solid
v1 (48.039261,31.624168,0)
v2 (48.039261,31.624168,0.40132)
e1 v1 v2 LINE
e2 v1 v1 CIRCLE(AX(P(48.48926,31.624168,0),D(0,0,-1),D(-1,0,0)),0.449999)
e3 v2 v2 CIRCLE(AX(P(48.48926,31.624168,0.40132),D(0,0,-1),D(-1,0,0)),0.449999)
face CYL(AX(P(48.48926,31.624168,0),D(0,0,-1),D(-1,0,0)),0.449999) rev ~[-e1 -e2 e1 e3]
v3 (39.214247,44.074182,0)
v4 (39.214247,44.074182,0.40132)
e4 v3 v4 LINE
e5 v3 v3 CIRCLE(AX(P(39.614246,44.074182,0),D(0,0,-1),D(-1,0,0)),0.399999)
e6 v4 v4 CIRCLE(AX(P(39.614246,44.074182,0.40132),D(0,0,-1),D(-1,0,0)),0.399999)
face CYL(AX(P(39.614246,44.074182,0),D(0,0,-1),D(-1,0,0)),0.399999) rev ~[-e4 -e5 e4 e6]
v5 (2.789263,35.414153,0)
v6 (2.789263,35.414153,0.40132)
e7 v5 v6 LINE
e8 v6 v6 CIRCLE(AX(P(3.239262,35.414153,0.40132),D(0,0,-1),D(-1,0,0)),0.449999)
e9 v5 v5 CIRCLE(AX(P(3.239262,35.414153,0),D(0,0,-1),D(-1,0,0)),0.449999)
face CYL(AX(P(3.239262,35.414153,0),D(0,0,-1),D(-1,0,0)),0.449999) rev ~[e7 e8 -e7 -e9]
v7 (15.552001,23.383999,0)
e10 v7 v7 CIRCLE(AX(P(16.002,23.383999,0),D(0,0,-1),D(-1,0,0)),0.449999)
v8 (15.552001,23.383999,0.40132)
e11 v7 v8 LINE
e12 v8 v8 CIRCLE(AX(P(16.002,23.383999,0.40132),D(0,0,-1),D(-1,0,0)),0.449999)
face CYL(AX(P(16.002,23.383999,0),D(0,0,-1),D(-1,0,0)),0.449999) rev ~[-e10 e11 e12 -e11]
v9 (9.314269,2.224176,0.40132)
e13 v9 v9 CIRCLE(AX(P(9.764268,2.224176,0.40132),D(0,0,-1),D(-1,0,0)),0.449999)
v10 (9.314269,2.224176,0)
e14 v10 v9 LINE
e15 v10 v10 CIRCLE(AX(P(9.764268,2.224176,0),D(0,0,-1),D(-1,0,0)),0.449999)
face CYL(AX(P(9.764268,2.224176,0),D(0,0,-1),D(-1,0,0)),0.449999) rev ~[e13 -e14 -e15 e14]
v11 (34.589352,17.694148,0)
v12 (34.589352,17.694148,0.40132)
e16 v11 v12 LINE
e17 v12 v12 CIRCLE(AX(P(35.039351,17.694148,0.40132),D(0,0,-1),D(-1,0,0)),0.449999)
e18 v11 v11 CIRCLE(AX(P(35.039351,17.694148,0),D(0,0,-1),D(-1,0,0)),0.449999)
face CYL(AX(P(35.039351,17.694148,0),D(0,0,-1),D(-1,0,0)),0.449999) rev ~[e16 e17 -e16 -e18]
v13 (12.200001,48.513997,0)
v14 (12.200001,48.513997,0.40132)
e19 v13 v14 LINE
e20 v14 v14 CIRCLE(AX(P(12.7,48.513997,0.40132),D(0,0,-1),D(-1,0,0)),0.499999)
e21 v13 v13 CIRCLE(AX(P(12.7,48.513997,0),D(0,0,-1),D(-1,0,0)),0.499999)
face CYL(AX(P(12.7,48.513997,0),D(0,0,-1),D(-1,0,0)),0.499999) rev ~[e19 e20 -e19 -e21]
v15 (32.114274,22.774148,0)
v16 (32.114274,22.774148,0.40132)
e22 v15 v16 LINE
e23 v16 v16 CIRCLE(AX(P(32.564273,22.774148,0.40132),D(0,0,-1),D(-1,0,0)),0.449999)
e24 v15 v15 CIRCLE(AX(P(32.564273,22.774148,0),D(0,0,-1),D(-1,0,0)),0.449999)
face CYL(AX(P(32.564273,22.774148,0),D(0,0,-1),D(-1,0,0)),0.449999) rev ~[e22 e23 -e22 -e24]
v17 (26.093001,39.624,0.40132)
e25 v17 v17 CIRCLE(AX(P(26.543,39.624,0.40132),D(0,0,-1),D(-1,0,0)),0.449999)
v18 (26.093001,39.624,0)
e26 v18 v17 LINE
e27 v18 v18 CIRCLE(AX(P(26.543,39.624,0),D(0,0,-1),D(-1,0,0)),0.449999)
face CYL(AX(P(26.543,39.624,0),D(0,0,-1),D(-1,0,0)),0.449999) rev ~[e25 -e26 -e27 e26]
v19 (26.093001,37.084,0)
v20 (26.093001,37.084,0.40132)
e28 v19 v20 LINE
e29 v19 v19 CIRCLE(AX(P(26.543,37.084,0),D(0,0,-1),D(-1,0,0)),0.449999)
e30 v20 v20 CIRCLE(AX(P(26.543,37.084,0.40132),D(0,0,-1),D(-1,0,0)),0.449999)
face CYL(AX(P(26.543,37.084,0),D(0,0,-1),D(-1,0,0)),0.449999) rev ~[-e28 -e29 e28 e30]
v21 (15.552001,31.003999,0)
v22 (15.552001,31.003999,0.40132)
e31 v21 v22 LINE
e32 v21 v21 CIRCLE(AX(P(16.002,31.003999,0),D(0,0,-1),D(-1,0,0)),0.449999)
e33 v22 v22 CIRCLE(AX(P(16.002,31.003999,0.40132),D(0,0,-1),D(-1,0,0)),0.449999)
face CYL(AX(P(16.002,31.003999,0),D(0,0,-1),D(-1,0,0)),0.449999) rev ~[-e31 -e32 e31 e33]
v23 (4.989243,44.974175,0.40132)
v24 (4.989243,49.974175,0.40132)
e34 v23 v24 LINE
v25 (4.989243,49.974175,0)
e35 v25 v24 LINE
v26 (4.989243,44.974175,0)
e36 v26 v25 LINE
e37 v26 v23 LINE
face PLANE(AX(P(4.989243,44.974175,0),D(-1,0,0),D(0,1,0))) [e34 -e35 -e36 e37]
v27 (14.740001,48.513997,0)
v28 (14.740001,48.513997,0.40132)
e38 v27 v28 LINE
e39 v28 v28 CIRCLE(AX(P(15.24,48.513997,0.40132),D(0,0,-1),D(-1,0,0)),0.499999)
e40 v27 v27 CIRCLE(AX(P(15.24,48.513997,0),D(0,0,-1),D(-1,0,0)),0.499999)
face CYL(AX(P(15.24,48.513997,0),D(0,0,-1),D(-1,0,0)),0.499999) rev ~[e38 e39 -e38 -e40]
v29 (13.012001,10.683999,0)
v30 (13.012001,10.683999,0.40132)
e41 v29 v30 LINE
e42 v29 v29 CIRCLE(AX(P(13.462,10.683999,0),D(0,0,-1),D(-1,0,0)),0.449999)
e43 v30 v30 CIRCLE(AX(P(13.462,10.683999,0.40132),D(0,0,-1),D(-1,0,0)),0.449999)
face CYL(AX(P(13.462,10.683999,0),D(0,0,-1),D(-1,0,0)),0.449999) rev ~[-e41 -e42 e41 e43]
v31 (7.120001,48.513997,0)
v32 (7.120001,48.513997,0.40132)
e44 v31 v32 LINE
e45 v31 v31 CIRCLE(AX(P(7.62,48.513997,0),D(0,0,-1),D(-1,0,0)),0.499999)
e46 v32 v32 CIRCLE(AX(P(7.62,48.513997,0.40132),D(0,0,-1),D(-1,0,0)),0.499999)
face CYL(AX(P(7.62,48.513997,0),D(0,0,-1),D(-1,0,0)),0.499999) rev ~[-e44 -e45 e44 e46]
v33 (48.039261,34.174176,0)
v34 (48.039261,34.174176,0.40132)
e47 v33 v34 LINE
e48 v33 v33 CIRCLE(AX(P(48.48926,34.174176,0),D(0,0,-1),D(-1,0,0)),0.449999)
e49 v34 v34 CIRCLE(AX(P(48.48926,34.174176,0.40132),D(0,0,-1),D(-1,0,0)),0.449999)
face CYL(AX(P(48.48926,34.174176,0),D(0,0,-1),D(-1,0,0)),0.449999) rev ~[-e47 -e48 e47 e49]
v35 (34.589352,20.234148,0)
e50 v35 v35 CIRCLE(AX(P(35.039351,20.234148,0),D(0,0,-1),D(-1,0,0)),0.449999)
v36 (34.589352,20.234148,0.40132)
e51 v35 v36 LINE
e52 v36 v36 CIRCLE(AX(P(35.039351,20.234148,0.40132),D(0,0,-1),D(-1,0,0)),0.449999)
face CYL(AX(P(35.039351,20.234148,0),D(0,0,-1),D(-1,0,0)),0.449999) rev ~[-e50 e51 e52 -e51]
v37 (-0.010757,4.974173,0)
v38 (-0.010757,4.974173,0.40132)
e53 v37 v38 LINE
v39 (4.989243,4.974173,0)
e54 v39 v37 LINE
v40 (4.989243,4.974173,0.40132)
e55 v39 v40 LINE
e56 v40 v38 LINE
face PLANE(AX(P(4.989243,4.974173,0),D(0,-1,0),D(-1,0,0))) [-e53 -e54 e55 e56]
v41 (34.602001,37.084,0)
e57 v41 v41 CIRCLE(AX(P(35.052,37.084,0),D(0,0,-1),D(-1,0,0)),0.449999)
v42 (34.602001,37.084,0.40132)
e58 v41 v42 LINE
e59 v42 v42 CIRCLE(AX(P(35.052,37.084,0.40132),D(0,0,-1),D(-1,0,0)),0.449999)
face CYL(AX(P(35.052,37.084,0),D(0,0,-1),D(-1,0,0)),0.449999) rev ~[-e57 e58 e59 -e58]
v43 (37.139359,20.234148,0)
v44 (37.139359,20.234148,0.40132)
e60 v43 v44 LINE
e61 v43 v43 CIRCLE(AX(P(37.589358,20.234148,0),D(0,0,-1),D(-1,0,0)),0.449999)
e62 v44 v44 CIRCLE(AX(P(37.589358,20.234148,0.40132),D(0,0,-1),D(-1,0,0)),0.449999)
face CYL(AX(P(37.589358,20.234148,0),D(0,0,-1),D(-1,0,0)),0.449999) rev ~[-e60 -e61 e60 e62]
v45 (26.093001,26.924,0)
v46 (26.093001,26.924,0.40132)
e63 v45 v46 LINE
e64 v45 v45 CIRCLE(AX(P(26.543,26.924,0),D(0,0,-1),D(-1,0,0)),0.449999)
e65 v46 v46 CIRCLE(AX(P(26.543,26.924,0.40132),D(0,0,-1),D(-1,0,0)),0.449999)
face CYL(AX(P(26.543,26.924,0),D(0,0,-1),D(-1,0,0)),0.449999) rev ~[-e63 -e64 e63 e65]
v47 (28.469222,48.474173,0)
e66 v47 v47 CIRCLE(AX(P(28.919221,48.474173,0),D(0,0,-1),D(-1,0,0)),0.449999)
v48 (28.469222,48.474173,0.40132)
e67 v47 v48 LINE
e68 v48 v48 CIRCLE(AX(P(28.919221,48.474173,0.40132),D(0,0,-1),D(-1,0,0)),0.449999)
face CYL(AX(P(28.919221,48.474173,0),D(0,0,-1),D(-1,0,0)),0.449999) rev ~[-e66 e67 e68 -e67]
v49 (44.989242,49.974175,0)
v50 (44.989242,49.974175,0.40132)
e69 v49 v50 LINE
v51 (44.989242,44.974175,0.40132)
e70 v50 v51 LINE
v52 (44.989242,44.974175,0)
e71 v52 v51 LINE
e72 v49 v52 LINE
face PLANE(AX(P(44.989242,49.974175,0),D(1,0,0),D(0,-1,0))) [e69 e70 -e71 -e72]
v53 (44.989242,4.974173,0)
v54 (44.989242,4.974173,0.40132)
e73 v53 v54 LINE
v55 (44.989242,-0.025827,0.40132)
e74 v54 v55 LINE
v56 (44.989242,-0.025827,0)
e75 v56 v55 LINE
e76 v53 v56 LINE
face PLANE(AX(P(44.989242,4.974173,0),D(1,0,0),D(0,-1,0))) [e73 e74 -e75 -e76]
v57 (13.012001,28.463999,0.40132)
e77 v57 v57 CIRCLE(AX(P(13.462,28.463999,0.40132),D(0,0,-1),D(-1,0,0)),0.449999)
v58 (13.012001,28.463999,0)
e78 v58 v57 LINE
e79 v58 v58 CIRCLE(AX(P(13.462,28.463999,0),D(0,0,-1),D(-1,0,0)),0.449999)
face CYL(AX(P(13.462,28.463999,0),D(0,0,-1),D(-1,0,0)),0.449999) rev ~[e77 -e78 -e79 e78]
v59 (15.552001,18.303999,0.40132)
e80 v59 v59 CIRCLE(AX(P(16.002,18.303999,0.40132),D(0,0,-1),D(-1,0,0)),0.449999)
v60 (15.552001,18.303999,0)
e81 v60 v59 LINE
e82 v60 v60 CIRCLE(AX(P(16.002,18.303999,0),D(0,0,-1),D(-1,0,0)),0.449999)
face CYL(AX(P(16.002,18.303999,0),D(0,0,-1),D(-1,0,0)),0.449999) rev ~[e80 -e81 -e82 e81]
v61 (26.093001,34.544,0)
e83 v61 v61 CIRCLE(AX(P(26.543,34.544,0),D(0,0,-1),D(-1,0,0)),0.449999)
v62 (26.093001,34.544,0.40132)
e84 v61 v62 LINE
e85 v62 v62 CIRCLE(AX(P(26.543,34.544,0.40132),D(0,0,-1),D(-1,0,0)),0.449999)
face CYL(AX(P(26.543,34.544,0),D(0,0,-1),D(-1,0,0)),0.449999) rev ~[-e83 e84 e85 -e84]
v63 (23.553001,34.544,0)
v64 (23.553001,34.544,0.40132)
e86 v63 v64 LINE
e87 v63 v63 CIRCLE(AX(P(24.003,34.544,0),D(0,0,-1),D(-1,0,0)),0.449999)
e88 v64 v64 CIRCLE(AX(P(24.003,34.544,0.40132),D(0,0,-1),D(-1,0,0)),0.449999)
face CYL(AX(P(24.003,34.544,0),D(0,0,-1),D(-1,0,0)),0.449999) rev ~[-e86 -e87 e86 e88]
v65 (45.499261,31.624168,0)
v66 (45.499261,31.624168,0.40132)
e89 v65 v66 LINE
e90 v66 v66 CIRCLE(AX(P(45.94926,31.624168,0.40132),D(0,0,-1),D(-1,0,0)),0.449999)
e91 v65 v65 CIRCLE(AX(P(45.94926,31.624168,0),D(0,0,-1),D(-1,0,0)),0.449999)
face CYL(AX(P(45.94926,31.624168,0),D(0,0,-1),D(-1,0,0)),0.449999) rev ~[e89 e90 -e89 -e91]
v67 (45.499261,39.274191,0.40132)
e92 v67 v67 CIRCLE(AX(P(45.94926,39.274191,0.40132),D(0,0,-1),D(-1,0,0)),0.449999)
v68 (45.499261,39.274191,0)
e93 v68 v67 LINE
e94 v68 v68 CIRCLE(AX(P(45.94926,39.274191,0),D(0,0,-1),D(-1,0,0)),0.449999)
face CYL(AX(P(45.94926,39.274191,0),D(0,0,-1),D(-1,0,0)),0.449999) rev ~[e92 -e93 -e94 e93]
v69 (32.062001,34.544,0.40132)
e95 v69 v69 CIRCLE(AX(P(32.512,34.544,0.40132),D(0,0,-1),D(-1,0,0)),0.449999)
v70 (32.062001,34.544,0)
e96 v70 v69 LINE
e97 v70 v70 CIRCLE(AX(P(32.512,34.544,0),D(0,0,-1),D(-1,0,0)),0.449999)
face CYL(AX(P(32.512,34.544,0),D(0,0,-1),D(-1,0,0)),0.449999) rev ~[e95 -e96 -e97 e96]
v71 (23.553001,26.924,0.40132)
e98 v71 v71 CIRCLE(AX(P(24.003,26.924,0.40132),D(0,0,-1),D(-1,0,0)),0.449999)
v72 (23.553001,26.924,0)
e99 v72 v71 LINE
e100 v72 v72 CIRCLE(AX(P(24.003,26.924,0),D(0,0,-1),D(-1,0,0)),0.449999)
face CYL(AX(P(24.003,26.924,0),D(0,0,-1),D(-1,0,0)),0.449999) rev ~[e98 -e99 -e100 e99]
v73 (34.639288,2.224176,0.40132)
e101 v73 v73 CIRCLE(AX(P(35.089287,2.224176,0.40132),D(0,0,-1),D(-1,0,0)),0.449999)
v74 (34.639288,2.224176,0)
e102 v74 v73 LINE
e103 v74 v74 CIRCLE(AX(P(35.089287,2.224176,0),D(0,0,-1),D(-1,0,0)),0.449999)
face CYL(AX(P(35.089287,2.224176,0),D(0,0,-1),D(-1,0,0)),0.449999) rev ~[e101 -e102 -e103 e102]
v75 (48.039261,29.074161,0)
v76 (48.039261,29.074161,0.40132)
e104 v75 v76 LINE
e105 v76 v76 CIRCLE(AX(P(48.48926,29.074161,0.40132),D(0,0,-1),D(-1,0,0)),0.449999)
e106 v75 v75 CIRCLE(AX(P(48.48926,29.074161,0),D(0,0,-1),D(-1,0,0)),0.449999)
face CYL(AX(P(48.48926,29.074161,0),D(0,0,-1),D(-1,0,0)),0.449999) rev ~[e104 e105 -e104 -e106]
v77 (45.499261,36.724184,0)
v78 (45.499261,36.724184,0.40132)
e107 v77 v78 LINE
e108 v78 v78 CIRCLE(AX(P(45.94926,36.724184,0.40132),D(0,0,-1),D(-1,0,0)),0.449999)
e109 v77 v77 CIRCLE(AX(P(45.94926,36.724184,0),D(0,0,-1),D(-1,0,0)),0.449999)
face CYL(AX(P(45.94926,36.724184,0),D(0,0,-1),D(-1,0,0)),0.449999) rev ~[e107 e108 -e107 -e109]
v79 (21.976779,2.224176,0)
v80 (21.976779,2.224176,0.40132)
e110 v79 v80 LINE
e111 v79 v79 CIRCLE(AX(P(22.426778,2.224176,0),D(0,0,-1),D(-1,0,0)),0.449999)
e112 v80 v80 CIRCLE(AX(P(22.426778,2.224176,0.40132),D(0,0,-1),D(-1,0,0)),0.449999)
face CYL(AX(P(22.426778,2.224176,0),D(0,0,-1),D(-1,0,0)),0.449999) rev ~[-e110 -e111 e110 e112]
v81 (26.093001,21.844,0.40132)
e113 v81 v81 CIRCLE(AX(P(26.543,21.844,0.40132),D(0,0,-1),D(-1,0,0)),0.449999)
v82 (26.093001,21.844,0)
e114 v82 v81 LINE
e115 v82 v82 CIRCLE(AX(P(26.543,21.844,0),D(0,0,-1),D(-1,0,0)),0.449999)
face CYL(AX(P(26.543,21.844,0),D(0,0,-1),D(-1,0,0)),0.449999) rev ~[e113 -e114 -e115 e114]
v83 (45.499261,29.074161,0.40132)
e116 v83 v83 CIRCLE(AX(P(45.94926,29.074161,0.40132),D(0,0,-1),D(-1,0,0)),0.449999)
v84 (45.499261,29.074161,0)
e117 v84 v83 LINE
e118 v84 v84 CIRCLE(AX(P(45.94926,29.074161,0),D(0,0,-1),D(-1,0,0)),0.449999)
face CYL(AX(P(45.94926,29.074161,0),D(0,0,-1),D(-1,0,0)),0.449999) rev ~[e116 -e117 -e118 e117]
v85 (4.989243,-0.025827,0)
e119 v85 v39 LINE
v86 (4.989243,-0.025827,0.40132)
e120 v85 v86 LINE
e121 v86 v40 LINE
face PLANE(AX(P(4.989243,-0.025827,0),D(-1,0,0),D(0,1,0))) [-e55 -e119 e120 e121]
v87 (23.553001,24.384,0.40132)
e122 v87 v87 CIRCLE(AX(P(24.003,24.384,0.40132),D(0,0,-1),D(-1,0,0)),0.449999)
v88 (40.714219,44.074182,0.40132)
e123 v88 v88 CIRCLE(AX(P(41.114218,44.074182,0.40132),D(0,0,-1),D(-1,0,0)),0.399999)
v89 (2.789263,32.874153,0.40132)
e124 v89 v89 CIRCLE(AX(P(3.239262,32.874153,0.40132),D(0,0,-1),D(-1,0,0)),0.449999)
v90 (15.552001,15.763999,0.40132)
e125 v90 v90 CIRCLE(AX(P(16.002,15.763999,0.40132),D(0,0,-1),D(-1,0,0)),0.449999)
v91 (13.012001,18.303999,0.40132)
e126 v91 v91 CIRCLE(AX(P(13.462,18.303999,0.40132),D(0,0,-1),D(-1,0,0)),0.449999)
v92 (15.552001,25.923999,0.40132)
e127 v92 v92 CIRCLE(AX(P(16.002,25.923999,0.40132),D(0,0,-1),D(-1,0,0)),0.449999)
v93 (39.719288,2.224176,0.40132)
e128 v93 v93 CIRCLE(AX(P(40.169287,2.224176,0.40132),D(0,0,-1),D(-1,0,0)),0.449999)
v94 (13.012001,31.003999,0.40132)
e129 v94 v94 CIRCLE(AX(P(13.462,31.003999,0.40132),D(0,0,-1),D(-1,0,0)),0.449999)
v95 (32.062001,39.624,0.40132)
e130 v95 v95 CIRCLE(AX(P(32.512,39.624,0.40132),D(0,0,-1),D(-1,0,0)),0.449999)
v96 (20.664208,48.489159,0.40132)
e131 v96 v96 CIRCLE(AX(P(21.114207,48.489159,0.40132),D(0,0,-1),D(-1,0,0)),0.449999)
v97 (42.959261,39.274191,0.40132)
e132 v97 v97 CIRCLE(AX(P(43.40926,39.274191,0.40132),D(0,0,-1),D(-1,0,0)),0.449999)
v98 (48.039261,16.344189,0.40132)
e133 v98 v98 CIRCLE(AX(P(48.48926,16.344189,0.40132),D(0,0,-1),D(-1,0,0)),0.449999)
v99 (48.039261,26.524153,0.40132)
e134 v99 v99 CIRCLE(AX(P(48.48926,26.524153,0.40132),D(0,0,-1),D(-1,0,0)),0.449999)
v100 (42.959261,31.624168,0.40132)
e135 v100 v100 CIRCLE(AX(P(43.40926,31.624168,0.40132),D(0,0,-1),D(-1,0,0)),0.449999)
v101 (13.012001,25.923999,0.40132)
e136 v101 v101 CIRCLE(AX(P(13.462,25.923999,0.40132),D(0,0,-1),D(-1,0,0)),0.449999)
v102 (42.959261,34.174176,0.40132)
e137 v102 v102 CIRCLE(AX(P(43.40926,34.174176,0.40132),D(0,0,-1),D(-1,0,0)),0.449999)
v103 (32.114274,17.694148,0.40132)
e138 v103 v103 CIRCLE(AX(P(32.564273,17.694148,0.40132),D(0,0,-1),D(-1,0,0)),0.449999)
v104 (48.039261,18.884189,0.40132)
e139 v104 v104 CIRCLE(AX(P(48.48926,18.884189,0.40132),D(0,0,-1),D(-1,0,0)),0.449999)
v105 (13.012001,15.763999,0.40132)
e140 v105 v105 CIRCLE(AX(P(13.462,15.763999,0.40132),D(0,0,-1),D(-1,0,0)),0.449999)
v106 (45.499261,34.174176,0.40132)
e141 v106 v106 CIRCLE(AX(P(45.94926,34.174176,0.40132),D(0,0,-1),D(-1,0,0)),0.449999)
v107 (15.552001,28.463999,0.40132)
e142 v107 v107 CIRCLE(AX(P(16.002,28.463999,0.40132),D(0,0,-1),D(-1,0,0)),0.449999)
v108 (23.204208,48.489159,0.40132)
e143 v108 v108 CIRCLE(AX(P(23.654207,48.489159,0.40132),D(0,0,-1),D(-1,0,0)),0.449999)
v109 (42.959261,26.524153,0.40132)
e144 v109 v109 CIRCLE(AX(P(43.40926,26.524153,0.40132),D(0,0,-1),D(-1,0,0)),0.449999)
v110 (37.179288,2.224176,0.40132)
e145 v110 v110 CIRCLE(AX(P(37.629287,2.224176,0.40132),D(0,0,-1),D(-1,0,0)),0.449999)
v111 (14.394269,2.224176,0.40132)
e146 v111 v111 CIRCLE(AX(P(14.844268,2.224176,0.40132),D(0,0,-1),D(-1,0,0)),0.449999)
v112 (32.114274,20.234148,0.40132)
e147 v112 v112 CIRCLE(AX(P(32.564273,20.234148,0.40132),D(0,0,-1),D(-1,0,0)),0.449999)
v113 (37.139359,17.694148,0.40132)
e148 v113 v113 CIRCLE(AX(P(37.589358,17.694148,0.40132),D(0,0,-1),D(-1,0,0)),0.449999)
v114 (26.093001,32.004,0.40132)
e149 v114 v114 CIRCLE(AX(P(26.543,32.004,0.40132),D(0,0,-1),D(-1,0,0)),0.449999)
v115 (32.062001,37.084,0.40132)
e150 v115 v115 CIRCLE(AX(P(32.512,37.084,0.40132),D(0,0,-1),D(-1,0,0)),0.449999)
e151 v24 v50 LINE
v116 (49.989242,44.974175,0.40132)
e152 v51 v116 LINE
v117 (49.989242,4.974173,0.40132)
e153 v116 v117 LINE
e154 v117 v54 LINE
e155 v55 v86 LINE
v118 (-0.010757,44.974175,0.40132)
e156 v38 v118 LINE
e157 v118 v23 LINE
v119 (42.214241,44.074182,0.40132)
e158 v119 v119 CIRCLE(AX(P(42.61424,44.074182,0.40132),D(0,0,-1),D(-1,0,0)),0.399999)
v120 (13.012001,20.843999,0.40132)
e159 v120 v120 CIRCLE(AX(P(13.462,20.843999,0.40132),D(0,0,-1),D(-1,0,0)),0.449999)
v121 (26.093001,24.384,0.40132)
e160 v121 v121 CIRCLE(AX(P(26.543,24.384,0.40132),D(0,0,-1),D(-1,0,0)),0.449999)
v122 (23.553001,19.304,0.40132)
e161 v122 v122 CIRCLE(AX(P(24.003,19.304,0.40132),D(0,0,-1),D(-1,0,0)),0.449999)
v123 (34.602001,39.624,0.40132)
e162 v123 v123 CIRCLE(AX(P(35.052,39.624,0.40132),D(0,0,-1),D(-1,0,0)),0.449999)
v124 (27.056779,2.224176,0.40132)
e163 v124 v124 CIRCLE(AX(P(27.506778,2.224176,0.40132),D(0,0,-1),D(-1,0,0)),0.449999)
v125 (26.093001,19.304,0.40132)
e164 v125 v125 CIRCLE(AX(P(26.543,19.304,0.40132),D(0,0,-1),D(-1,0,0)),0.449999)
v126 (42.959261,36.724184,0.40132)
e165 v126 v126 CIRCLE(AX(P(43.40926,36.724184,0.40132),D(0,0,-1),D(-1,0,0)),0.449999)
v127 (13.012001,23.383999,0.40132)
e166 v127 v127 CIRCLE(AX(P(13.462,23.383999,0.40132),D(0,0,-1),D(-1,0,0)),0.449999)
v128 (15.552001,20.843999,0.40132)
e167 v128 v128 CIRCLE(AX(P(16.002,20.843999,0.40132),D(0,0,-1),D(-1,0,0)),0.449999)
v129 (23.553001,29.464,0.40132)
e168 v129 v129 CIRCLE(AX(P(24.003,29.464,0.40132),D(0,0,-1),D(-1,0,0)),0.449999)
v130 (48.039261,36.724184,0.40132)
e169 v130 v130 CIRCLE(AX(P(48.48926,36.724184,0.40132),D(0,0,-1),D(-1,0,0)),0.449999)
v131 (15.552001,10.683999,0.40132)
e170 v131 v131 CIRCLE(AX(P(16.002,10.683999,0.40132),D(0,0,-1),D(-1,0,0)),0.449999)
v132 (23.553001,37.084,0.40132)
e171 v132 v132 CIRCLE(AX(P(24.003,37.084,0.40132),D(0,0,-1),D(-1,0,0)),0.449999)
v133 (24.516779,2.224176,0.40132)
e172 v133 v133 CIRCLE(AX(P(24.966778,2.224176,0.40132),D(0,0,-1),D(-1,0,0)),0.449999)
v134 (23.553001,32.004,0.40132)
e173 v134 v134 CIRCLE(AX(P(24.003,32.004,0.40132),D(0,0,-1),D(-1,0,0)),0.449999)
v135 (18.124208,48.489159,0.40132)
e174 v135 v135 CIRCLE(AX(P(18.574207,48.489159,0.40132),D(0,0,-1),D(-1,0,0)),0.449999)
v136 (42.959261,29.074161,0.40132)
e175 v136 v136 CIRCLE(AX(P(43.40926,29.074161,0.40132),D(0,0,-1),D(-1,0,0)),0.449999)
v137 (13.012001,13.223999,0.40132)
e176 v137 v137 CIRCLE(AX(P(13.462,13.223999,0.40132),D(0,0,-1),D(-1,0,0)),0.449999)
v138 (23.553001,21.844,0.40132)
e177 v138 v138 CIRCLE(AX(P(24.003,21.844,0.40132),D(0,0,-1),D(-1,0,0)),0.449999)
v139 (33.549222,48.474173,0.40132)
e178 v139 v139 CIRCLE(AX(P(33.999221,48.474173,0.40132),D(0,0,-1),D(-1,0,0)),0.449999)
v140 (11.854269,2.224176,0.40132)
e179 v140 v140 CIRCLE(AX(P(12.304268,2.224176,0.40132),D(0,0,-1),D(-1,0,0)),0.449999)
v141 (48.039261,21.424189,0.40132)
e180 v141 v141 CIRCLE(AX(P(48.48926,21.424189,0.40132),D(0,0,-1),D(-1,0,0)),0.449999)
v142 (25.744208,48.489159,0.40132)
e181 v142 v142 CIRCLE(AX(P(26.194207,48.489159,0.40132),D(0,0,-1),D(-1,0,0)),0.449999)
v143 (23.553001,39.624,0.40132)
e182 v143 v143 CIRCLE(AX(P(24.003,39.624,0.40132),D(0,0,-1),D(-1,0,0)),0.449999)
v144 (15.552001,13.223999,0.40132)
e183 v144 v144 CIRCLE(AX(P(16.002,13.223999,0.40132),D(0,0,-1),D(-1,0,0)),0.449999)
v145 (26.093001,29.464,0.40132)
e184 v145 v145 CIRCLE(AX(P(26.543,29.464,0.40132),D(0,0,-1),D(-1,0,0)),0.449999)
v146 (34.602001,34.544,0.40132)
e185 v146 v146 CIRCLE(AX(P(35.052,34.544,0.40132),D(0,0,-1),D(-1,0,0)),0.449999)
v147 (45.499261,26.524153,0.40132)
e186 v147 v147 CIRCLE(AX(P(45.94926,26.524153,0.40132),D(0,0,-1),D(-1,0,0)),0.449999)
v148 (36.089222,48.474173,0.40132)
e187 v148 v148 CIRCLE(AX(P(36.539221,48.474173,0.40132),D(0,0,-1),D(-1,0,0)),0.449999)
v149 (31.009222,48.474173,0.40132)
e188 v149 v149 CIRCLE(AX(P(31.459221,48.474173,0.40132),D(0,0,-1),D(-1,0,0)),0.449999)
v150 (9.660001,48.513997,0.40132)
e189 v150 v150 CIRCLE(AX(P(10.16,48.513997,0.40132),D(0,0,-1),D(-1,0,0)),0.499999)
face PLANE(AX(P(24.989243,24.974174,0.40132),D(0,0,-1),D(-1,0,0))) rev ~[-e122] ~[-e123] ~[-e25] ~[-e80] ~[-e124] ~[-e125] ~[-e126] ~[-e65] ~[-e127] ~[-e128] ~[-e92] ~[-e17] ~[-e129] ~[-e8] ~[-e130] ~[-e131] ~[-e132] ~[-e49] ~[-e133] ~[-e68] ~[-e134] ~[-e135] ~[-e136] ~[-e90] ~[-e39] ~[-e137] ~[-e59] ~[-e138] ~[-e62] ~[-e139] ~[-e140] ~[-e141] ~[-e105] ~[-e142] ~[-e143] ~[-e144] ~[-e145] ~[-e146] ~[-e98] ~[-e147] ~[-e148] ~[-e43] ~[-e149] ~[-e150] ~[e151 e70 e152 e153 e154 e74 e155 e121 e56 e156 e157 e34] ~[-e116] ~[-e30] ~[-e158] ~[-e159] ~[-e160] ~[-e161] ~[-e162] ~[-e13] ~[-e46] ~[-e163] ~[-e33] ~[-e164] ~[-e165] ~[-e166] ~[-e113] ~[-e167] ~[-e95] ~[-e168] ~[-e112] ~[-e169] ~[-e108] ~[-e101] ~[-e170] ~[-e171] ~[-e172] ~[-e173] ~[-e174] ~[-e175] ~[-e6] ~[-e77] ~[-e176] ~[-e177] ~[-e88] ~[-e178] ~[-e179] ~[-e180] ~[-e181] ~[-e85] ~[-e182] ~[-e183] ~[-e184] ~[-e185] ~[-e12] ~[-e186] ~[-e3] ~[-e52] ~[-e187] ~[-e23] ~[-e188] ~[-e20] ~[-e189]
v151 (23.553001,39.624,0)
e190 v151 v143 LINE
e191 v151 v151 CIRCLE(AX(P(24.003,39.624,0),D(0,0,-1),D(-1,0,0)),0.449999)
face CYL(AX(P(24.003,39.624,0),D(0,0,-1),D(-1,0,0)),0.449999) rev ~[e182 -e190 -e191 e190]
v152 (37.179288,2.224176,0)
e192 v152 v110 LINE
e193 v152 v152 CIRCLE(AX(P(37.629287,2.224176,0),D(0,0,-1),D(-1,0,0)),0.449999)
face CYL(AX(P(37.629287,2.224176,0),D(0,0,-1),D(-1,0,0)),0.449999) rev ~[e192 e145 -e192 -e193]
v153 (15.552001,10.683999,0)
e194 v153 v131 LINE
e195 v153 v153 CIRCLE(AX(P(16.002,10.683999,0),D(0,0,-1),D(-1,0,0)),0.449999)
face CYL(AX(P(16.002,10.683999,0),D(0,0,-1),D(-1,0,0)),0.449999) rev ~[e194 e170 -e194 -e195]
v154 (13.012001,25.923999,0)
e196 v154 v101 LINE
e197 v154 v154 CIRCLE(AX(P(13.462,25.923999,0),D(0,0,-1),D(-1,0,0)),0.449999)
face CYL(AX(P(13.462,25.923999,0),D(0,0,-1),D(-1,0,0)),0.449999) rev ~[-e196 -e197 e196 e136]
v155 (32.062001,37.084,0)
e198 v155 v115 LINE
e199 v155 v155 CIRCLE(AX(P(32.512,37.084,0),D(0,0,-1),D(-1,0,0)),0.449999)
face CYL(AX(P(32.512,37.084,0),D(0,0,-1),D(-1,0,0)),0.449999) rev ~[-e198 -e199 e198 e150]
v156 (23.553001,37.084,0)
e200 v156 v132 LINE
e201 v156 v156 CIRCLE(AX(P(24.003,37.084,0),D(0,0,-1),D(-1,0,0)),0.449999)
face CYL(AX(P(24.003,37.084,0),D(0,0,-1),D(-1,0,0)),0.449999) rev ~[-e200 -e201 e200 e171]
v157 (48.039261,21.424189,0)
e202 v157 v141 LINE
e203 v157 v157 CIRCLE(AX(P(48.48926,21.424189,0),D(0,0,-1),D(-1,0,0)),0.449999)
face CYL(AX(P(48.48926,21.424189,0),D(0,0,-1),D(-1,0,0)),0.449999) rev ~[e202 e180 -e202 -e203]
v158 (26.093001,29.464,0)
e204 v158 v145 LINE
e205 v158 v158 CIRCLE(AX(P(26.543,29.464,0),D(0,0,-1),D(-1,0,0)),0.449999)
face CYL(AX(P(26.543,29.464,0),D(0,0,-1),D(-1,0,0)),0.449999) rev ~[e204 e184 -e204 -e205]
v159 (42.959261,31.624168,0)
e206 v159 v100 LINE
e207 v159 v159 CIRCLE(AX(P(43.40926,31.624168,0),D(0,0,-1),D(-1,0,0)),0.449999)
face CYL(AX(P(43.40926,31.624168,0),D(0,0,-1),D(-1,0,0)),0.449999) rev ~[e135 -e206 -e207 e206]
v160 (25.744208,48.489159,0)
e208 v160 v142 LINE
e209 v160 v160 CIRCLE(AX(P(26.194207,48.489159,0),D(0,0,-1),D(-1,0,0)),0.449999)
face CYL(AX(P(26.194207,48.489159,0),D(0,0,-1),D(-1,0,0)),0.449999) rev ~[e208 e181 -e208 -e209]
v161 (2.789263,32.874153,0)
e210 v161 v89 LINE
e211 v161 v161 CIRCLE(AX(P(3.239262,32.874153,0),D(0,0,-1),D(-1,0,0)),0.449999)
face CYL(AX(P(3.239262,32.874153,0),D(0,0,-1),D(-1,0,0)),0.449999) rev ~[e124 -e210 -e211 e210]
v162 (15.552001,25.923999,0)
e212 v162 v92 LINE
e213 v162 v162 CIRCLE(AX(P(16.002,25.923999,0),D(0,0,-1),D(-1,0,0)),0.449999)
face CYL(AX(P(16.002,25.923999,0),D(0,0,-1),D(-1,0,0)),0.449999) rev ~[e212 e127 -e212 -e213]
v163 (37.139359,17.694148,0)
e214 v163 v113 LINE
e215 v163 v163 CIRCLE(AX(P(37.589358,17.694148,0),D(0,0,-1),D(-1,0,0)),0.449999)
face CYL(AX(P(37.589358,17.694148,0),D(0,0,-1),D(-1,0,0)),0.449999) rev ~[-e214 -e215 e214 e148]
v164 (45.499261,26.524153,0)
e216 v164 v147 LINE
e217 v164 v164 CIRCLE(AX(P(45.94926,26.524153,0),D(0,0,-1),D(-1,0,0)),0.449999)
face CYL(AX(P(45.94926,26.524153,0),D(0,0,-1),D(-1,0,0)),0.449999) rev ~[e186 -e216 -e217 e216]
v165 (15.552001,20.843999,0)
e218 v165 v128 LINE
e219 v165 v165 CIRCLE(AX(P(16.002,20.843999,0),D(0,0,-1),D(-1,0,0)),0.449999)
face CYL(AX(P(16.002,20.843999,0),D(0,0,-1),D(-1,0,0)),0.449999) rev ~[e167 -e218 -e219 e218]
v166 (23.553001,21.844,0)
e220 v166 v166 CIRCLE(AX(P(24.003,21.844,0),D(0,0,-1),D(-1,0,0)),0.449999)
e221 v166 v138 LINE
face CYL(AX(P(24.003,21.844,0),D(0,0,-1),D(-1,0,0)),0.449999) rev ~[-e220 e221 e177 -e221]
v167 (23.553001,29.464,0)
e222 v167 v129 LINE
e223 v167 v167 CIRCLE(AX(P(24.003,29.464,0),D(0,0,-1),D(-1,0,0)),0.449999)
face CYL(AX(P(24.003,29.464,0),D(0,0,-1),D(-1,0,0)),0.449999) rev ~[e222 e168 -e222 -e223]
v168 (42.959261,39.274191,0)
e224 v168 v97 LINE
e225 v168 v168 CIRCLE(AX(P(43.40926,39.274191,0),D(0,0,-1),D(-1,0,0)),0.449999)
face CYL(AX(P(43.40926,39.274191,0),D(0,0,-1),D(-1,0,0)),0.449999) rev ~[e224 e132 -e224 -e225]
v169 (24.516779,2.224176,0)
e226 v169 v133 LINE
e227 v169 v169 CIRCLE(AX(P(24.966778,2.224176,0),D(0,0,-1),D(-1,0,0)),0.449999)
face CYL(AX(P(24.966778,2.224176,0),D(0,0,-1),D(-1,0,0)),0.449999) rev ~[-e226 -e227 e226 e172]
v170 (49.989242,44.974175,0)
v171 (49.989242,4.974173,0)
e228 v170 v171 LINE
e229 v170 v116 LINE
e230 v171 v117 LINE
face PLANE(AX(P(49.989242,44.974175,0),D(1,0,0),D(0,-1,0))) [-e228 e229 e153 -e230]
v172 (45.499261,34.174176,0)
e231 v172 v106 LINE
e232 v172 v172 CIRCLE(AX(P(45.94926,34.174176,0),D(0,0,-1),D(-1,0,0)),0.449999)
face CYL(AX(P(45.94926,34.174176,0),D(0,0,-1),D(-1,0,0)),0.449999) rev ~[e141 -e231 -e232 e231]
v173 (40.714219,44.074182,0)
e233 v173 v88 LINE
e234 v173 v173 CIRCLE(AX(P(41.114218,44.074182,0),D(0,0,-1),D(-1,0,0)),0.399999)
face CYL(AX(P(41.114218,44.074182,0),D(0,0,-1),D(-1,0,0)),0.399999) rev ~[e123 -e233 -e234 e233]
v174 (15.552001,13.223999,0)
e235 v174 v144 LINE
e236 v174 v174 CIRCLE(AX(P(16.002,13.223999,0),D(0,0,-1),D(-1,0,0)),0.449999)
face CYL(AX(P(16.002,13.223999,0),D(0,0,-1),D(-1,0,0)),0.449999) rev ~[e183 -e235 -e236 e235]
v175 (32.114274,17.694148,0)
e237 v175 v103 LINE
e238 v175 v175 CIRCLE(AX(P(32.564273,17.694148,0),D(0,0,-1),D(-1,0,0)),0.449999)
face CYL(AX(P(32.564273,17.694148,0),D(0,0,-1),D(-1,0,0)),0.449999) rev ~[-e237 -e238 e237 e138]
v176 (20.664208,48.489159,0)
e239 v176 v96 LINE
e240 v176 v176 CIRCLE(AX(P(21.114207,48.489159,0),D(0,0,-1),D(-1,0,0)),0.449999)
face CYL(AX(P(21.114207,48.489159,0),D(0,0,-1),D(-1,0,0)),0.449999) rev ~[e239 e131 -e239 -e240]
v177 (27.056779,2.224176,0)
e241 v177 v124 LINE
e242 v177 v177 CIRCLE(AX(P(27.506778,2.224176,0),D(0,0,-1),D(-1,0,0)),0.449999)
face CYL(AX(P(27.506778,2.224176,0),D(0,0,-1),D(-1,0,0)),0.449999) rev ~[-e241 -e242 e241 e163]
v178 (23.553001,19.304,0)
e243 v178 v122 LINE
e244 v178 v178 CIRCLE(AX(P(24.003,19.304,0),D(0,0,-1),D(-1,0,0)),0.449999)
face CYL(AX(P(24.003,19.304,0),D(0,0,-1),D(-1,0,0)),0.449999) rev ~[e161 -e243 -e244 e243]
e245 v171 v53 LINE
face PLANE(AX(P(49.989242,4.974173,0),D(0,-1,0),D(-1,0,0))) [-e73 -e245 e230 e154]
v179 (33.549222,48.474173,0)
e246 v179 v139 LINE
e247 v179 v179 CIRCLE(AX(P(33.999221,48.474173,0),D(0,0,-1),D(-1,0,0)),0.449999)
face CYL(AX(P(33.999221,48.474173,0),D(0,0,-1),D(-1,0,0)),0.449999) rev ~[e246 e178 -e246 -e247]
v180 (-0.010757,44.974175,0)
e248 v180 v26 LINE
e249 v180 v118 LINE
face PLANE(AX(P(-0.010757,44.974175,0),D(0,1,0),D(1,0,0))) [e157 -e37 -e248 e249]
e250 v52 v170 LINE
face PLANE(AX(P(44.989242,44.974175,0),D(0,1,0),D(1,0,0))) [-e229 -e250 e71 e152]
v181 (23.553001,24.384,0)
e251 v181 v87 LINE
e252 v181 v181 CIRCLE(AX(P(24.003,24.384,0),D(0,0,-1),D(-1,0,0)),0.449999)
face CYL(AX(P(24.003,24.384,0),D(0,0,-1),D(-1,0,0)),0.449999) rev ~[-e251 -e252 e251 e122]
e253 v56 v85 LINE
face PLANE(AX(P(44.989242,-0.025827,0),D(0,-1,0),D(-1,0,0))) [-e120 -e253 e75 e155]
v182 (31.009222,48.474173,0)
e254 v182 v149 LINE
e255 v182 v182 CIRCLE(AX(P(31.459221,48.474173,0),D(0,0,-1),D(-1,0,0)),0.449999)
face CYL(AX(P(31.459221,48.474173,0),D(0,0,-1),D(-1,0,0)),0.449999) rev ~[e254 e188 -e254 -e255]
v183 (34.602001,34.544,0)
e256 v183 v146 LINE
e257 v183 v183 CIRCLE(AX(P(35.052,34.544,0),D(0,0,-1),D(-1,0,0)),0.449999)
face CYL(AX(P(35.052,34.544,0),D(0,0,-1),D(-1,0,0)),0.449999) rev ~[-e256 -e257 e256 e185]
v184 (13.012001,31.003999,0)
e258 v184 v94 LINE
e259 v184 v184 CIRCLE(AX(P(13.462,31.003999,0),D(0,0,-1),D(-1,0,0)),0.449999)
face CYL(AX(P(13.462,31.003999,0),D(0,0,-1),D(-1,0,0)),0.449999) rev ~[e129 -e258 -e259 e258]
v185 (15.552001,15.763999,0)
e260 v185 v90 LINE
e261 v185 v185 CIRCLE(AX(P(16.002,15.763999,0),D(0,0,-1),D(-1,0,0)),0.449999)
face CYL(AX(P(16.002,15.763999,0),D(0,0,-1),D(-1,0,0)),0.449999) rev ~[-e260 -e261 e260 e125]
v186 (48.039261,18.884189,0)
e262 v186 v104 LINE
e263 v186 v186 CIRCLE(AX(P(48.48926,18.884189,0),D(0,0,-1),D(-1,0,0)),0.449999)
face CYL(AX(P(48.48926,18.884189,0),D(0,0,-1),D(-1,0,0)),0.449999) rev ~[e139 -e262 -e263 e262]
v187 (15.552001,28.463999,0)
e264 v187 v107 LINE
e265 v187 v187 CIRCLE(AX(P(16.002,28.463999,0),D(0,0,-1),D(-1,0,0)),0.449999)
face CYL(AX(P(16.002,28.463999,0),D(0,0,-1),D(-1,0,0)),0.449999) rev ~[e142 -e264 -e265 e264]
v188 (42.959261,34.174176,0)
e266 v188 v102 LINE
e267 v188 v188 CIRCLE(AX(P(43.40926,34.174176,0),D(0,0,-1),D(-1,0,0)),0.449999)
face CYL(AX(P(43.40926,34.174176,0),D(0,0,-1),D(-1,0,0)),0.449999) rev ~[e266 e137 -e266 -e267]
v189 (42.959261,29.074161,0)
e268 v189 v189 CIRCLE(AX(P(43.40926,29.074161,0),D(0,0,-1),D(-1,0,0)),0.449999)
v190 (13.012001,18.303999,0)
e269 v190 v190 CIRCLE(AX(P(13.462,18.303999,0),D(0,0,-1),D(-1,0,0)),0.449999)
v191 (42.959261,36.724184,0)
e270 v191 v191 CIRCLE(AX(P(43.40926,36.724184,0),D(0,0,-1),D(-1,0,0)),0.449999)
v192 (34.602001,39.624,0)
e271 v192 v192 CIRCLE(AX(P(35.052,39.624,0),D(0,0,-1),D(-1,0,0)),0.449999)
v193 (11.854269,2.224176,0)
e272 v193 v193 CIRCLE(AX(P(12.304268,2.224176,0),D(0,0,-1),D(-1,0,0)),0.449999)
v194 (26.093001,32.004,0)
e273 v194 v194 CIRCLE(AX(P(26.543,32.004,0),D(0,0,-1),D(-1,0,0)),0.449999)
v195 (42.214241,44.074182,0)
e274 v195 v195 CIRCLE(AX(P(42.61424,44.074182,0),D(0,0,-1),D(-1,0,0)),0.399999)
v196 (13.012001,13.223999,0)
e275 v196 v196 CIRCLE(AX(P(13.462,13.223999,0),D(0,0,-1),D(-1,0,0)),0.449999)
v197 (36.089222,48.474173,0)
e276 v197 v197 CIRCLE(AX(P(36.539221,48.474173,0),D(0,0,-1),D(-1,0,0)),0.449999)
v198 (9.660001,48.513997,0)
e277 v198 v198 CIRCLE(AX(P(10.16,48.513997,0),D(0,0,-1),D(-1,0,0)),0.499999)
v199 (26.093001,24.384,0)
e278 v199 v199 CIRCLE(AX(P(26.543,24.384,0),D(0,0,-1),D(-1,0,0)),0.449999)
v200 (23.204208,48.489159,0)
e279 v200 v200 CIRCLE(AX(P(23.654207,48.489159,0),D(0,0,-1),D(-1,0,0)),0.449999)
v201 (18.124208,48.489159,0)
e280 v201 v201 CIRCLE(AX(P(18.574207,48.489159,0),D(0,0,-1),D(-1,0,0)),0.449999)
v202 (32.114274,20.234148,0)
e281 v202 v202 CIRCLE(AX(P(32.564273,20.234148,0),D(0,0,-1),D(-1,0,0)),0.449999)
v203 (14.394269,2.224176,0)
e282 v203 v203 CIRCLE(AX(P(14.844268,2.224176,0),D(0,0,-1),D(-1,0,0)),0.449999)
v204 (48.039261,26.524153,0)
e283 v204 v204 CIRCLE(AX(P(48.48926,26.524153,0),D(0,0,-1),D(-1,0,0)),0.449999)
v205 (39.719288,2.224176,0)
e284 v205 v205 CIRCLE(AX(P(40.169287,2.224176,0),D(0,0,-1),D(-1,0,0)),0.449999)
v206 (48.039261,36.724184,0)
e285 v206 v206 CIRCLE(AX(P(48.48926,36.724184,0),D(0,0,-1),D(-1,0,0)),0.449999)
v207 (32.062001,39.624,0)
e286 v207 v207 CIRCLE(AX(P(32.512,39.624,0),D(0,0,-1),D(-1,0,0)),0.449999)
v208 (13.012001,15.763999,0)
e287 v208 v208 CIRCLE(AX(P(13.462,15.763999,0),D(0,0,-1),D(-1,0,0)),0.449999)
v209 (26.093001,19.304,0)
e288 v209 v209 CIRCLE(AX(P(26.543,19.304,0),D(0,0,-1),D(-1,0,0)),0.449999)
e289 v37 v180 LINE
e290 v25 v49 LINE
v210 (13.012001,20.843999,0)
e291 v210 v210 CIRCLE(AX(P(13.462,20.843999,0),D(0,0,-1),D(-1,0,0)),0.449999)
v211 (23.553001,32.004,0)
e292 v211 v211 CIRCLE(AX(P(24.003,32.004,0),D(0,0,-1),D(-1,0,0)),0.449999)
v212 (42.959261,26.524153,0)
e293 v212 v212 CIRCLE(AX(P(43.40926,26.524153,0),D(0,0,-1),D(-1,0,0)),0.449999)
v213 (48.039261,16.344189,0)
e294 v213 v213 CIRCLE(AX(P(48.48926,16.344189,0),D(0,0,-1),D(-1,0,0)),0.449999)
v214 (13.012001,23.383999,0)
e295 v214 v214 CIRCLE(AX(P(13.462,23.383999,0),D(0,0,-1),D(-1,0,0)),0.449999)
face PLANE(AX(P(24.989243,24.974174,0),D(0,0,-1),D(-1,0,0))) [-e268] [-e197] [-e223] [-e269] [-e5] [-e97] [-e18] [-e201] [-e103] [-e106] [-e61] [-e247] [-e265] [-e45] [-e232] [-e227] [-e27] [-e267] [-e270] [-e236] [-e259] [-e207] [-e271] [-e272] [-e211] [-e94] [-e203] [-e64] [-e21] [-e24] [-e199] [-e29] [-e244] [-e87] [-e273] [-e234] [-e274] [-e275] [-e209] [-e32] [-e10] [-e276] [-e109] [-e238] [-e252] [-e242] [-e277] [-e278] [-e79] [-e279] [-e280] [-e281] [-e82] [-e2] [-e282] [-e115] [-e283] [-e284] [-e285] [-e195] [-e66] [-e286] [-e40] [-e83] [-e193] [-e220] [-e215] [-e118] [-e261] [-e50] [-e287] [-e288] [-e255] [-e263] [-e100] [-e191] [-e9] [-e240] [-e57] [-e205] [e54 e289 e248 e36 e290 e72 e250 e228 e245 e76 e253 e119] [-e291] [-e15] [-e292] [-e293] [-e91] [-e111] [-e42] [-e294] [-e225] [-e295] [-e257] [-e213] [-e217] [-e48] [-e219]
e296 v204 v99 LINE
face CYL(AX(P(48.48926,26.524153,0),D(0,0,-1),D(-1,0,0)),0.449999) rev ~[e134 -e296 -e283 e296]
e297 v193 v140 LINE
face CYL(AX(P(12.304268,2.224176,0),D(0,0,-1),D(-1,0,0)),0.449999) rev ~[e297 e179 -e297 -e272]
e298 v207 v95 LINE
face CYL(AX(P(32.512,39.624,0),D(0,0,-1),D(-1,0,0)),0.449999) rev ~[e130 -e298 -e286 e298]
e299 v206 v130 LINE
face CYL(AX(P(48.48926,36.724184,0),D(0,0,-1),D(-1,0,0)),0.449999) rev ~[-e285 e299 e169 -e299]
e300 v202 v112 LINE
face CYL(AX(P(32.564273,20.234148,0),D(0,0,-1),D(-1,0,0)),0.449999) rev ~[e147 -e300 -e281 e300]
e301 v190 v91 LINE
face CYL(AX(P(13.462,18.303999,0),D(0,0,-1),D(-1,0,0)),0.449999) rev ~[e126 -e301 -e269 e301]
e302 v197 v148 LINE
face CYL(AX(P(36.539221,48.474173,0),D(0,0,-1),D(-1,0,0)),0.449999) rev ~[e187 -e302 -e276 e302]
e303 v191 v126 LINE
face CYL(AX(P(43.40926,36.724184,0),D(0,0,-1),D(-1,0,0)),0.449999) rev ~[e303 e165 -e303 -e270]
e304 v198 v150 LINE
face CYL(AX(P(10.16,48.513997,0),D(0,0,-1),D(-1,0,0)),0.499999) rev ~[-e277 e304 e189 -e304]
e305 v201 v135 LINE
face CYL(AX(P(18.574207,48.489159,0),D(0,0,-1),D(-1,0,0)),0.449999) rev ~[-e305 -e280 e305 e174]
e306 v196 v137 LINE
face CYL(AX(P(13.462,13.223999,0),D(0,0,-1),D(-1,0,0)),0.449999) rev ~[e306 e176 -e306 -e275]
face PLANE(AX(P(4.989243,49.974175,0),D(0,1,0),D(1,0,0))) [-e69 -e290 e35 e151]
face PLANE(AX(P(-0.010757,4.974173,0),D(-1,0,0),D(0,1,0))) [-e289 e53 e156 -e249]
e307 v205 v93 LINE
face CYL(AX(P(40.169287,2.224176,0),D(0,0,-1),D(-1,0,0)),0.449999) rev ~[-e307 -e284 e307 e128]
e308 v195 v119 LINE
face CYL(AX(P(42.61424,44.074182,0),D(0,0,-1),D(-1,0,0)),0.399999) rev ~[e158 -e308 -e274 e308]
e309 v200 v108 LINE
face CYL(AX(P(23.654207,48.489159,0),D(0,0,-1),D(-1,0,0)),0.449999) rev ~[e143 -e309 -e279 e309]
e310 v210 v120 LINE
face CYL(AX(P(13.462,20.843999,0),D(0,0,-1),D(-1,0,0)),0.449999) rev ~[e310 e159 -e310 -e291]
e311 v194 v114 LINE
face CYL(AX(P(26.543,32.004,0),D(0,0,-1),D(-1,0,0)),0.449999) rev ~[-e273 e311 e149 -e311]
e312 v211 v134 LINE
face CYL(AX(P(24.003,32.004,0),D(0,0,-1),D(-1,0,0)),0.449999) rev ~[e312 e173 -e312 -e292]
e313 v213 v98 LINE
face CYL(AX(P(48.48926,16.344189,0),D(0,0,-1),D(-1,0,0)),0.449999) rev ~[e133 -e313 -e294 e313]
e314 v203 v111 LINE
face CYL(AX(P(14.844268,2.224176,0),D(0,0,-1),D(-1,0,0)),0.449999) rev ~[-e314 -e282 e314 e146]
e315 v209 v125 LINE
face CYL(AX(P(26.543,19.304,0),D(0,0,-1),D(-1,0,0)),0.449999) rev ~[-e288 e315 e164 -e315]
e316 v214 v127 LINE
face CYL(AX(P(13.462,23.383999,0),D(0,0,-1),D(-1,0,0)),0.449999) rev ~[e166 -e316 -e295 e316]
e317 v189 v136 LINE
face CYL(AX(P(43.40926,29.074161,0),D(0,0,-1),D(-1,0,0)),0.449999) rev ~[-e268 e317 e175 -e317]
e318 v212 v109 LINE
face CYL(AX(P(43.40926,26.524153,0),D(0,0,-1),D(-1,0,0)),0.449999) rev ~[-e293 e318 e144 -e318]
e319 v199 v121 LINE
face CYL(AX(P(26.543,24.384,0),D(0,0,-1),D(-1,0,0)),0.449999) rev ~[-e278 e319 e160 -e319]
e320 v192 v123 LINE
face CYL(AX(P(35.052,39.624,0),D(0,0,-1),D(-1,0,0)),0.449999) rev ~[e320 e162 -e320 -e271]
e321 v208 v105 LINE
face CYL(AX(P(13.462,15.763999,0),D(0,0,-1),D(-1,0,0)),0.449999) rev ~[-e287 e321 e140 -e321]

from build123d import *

# Parameters (mm, degrees)
SKETCH_1_R      = 0.4499991
SKETCH_1_R_2    = 0.3999992
SKETCH_1_R_3    = 0.499999
EXTRUDE_1_DEPTH = 0.40132


with BuildPart() as part:
    # Эскиз1 → Бобышка-Вытянуть1 (new body)
    with BuildSketch(Plane(origin=(0, 0, 0), x_dir=(-1, 0, 0), z_dir=(0, 0, -1))):
        Polygon((-49.98924216, 4.97417344), (-44.989242, 4.97417344), (-44.989242, -0.02582672), (-4.98924326, -0.02582672), (-4.98924326, 4.97417344), (0.0107569, 4.97417344), (0.0107569, 44.97417472), (-4.98924326, 44.97417472), (-4.98924326, 49.97417488), (-44.989242, 49.97417488), (-44.989242, 44.97417472), (-49.98924216, 44.97417472), align=None)
        with Locations((-48.4892604, 36.7241836)):
            Circle(SKETCH_1_R, mode=Mode.SUBTRACT)
        with Locations((-45.9492604, 39.2741912)):
            Circle(SKETCH_1_R, mode=Mode.SUBTRACT)
        with Locations((-45.9492604, 36.7241836)):
            Circle(SKETCH_1_R, mode=Mode.SUBTRACT)
        with Locations((-42.6142404, 44.0741816)):
            Circle(SKETCH_1_R_2, mode=Mode.SUBTRACT)
        with Locations((-41.114218, 44.0741816)):
            Circle(SKETCH_1_R_2, mode=Mode.SUBTRACT)
        with Locations((-43.4092604, 39.2741912)):
            Circle(SKETCH_1_R, mode=Mode.SUBTRACT)
        with Locations((-48.4892604, 34.174176)):
            Circle(SKETCH_1_R, mode=Mode.SUBTRACT)
        with Locations((-45.9492604, 34.174176)):
            Circle(SKETCH_1_R, mode=Mode.SUBTRACT)
        with Locations((-48.4892604, 31.6241684)):
            Circle(SKETCH_1_R, mode=Mode.SUBTRACT)
        with Locations((-43.4092604, 34.174176)):
            Circle(SKETCH_1_R, mode=Mode.SUBTRACT)
        with Locations((-43.4092604, 36.7241836)):
            Circle(SKETCH_1_R, mode=Mode.SUBTRACT)
        with Locations((-45.9492604, 31.6241684)):
            Circle(SKETCH_1_R, mode=Mode.SUBTRACT)
        with Locations((-39.6142464, 44.0741816)):
            Circle(SKETCH_1_R_2, mode=Mode.SUBTRACT)
        with Locations((-36.5392208, 48.4741728)):
            Circle(SKETCH_1_R, mode=Mode.SUBTRACT)
        with Locations((-35.052, 39.624)):
            Circle(SKETCH_1_R, mode=Mode.SUBTRACT)
        with Locations((-31.4592208, 48.4741728)):
            Circle(SKETCH_1_R, mode=Mode.SUBTRACT)
        with Locations((-28.9192208, 48.4741728)):
            Circle(SKETCH_1_R, mode=Mode.SUBTRACT)
        with Locations((-33.9992208, 48.4741728)):
            Circle(SKETCH_1_R, mode=Mode.SUBTRACT)
        with Locations((-35.052, 37.084)):
            Circle(SKETCH_1_R, mode=Mode.SUBTRACT)
        with Locations((-32.512, 39.624)):
            Circle(SKETCH_1_R, mode=Mode.SUBTRACT)
        with Locations((-35.052, 34.544)):
            Circle(SKETCH_1_R, mode=Mode.SUBTRACT)
        with Locations((-32.512, 34.544)):
            Circle(SKETCH_1_R, mode=Mode.SUBTRACT)
        with Locations((-32.512, 37.084)):
            Circle(SKETCH_1_R, mode=Mode.SUBTRACT)
        with Locations((-26.543, 34.544)):
            Circle(SKETCH_1_R, mode=Mode.SUBTRACT)
        with Locations((-48.4892604, 29.0741608)):
            Circle(SKETCH_1_R, mode=Mode.SUBTRACT)
        with Locations((-45.9492604, 29.0741608)):
            Circle(SKETCH_1_R, mode=Mode.SUBTRACT)
        with Locations((-48.4892604, 26.5241532)):
            Circle(SKETCH_1_R, mode=Mode.SUBTRACT)
        with Locations((-43.4092604, 29.0741608)):
            Circle(SKETCH_1_R, mode=Mode.SUBTRACT)
        with Locations((-43.4092604, 31.6241684)):
            Circle(SKETCH_1_R, mode=Mode.SUBTRACT)
        with Locations((-45.9492604, 26.5241532)):
            Circle(SKETCH_1_R, mode=Mode.SUBTRACT)
        with Locations((-48.4892604, 18.8841888)):
            Circle(SKETCH_1_R, mode=Mode.SUBTRACT)
        with Locations((-48.4892604, 21.4241888)):
            Circle(SKETCH_1_R, mode=Mode.SUBTRACT)
        with Locations((-48.4892604, 16.3441888)):
            Circle(SKETCH_1_R, mode=Mode.SUBTRACT)
        with Locations((-43.4092604, 26.5241532)):
            Circle(SKETCH_1_R, mode=Mode.SUBTRACT)
        with Locations((-40.1692872, 2.2241764)):
            Circle(SKETCH_1_R, mode=Mode.SUBTRACT)
        with Locations((-37.6292872, 2.2241764)):
            Circle(SKETCH_1_R, mode=Mode.SUBTRACT)
        with Locations((-35.0393508, 20.234148)):
            Circle(SKETCH_1_R, mode=Mode.SUBTRACT)
        with Locations((-32.5642732, 22.774148)):
            Circle(SKETCH_1_R, mode=Mode.SUBTRACT)
        with Locations((-37.5893584, 20.234148)):
            Circle(SKETCH_1_R, mode=Mode.SUBTRACT)
        with Locations((-26.543, 24.384)):
            Circle(SKETCH_1_R, mode=Mode.SUBTRACT)
        with Locations((-26.543, 29.464)):
            Circle(SKETCH_1_R, mode=Mode.SUBTRACT)
        with Locations((-26.543, 21.844)):
            Circle(SKETCH_1_R, mode=Mode.SUBTRACT)
        with Locations((-37.5893584, 17.694148)):
            Circle(SKETCH_1_R, mode=Mode.SUBTRACT)
        with Locations((-35.0393508, 17.694148)):
            Circle(SKETCH_1_R, mode=Mode.SUBTRACT)
        with Locations((-35.0892872, 2.2241764)):
            Circle(SKETCH_1_R, mode=Mode.SUBTRACT)
        with Locations((-32.5642732, 17.694148)):
            Circle(SKETCH_1_R, mode=Mode.SUBTRACT)
        with Locations((-32.5642732, 20.234148)):
            Circle(SKETCH_1_R, mode=Mode.SUBTRACT)
        with Locations((-27.5067776, 2.2241764)):
            Circle(SKETCH_1_R, mode=Mode.SUBTRACT)
        with Locations((-26.543, 39.624)):
            Circle(SKETCH_1_R, mode=Mode.SUBTRACT)
        with Locations((-26.1942072, 48.4891588)):
            Circle(SKETCH_1_R, mode=Mode.SUBTRACT)
        with Locations((-26.543, 37.084)):
            Circle(SKETCH_1_R, mode=Mode.SUBTRACT)
        with Locations((-24.003, 39.624)):
            Circle(SKETCH_1_R, mode=Mode.SUBTRACT)
        with Locations((-23.6542072, 48.4891588)):
            Circle(SKETCH_1_R, mode=Mode.SUBTRACT)
        with Locations((-24.003, 37.084)):
            Circle(SKETCH_1_R, mode=Mode.SUBTRACT)
        with Locations((-26.543, 32.004)):
            Circle(SKETCH_1_R, mode=Mode.SUBTRACT)
        with Locations((-24.003, 32.004)):
            Circle(SKETCH_1_R, mode=Mode.SUBTRACT)
        with Locations((-26.543, 26.924)):
            Circle(SKETCH_1_R, mode=Mode.SUBTRACT)
        with Locations((-24.003, 29.464)):
            Circle(SKETCH_1_R, mode=Mode.SUBTRACT)
        with Locations((-24.003, 34.544)):
            Circle(SKETCH_1_R, mode=Mode.SUBTRACT)
        with Locations((-24.003, 26.924)):
            Circle(SKETCH_1_R, mode=Mode.SUBTRACT)
        with Locations((-21.1142072, 48.4891588)):
            Circle(SKETCH_1_R, mode=Mode.SUBTRACT)
        with Locations((-18.5742072, 48.4891588)):
            Circle(SKETCH_1_R, mode=Mode.SUBTRACT)
        with Locations((-15.24, 48.51399746)):
            Circle(SKETCH_1_R_3, mode=Mode.SUBTRACT)
        with Locations((-10.16, 48.51399746)):
            Circle(SKETCH_1_R_3, mode=Mode.SUBTRACT)
        with Locations((-7.62, 48.51399746)):
            Circle(SKETCH_1_R_3, mode=Mode.SUBTRACT)
        with Locations((-12.7, 48.51399746)):
            Circle(SKETCH_1_R_3, mode=Mode.SUBTRACT)
        with Locations((-16.002, 28.46399946)):
            Circle(SKETCH_1_R, mode=Mode.SUBTRACT)
        with Locations((-16.002, 31.00399946)):
            Circle(SKETCH_1_R, mode=Mode.SUBTRACT)
        with Locations((-13.462, 28.46399946)):
            Circle(SKETCH_1_R, mode=Mode.SUBTRACT)
        with Locations((-3.239262, 32.8741532)):
            Circle(SKETCH_1_R, mode=Mode.SUBTRACT)
        with Locations((-3.239262, 35.4141532)):
            Circle(SKETCH_1_R, mode=Mode.SUBTRACT)
        with Locations((-13.462, 31.00399946)):
            Circle(SKETCH_1_R, mode=Mode.SUBTRACT)
        with Locations((-24.003, 21.844)):
            Circle(SKETCH_1_R, mode=Mode.SUBTRACT)
        with Locations((-24.003, 24.384)):
            Circle(SKETCH_1_R, mode=Mode.SUBTRACT)
        with Locations((-26.543, 19.304)):
            Circle(SKETCH_1_R, mode=Mode.SUBTRACT)
        with Locations((-16.002, 23.38399946)):
            Circle(SKETCH_1_R, mode=Mode.SUBTRACT)
        with Locations((-16.002, 25.92399946)):
            Circle(SKETCH_1_R, mode=Mode.SUBTRACT)
        with Locations((-16.002, 20.84399946)):
            Circle(SKETCH_1_R, mode=Mode.SUBTRACT)
        with Locations((-24.9667776, 2.2241764)):
            Circle(SKETCH_1_R, mode=Mode.SUBTRACT)
        with Locations((-24.003, 19.304)):
            Circle(SKETCH_1_R, mode=Mode.SUBTRACT)
        with Locations((-22.4267776, 2.2241764)):
            Circle(SKETCH_1_R, mode=Mode.SUBTRACT)
        with Locations((-16.002, 15.76399946)):
            Circle(SKETCH_1_R, mode=Mode.SUBTRACT)
        with Locations((-16.002, 18.30399946)):
            Circle(SKETCH_1_R, mode=Mode.SUBTRACT)
        with Locations((-16.002, 13.22399946)):
            Circle(SKETCH_1_R, mode=Mode.SUBTRACT)
        with Locations((-13.462, 15.76399946)):
            Circle(SKETCH_1_R, mode=Mode.SUBTRACT)
        with Locations((-13.462, 18.30399946)):
            Circle(SKETCH_1_R, mode=Mode.SUBTRACT)
        with Locations((-13.462, 13.22399946)):
            Circle(SKETCH_1_R, mode=Mode.SUBTRACT)
        with Locations((-13.462, 23.38399946)):
            Circle(SKETCH_1_R, mode=Mode.SUBTRACT)
        with Locations((-13.462, 25.92399946)):
            Circle(SKETCH_1_R, mode=Mode.SUBTRACT)
        with Locations((-13.462, 20.84399946)):
            Circle(SKETCH_1_R, mode=Mode.SUBTRACT)
        with Locations((-16.002, 10.68399946)):
            Circle(SKETCH_1_R, mode=Mode.SUBTRACT)
        with Locations((-13.462, 10.68399946)):
            Circle(SKETCH_1_R, mode=Mode.SUBTRACT)
        with Locations((-14.844268, 2.2241764)):
            Circle(SKETCH_1_R, mode=Mode.SUBTRACT)
        with Locations((-9.764268, 2.2241764)):
            Circle(SKETCH_1_R, mode=Mode.SUBTRACT)
        with Locations((-12.304268, 2.2241764)):
            Circle(SKETCH_1_R, mode=Mode.SUBTRACT)
    extrude(amount=-EXTRUDE_1_DEPTH)


solid = part.part
